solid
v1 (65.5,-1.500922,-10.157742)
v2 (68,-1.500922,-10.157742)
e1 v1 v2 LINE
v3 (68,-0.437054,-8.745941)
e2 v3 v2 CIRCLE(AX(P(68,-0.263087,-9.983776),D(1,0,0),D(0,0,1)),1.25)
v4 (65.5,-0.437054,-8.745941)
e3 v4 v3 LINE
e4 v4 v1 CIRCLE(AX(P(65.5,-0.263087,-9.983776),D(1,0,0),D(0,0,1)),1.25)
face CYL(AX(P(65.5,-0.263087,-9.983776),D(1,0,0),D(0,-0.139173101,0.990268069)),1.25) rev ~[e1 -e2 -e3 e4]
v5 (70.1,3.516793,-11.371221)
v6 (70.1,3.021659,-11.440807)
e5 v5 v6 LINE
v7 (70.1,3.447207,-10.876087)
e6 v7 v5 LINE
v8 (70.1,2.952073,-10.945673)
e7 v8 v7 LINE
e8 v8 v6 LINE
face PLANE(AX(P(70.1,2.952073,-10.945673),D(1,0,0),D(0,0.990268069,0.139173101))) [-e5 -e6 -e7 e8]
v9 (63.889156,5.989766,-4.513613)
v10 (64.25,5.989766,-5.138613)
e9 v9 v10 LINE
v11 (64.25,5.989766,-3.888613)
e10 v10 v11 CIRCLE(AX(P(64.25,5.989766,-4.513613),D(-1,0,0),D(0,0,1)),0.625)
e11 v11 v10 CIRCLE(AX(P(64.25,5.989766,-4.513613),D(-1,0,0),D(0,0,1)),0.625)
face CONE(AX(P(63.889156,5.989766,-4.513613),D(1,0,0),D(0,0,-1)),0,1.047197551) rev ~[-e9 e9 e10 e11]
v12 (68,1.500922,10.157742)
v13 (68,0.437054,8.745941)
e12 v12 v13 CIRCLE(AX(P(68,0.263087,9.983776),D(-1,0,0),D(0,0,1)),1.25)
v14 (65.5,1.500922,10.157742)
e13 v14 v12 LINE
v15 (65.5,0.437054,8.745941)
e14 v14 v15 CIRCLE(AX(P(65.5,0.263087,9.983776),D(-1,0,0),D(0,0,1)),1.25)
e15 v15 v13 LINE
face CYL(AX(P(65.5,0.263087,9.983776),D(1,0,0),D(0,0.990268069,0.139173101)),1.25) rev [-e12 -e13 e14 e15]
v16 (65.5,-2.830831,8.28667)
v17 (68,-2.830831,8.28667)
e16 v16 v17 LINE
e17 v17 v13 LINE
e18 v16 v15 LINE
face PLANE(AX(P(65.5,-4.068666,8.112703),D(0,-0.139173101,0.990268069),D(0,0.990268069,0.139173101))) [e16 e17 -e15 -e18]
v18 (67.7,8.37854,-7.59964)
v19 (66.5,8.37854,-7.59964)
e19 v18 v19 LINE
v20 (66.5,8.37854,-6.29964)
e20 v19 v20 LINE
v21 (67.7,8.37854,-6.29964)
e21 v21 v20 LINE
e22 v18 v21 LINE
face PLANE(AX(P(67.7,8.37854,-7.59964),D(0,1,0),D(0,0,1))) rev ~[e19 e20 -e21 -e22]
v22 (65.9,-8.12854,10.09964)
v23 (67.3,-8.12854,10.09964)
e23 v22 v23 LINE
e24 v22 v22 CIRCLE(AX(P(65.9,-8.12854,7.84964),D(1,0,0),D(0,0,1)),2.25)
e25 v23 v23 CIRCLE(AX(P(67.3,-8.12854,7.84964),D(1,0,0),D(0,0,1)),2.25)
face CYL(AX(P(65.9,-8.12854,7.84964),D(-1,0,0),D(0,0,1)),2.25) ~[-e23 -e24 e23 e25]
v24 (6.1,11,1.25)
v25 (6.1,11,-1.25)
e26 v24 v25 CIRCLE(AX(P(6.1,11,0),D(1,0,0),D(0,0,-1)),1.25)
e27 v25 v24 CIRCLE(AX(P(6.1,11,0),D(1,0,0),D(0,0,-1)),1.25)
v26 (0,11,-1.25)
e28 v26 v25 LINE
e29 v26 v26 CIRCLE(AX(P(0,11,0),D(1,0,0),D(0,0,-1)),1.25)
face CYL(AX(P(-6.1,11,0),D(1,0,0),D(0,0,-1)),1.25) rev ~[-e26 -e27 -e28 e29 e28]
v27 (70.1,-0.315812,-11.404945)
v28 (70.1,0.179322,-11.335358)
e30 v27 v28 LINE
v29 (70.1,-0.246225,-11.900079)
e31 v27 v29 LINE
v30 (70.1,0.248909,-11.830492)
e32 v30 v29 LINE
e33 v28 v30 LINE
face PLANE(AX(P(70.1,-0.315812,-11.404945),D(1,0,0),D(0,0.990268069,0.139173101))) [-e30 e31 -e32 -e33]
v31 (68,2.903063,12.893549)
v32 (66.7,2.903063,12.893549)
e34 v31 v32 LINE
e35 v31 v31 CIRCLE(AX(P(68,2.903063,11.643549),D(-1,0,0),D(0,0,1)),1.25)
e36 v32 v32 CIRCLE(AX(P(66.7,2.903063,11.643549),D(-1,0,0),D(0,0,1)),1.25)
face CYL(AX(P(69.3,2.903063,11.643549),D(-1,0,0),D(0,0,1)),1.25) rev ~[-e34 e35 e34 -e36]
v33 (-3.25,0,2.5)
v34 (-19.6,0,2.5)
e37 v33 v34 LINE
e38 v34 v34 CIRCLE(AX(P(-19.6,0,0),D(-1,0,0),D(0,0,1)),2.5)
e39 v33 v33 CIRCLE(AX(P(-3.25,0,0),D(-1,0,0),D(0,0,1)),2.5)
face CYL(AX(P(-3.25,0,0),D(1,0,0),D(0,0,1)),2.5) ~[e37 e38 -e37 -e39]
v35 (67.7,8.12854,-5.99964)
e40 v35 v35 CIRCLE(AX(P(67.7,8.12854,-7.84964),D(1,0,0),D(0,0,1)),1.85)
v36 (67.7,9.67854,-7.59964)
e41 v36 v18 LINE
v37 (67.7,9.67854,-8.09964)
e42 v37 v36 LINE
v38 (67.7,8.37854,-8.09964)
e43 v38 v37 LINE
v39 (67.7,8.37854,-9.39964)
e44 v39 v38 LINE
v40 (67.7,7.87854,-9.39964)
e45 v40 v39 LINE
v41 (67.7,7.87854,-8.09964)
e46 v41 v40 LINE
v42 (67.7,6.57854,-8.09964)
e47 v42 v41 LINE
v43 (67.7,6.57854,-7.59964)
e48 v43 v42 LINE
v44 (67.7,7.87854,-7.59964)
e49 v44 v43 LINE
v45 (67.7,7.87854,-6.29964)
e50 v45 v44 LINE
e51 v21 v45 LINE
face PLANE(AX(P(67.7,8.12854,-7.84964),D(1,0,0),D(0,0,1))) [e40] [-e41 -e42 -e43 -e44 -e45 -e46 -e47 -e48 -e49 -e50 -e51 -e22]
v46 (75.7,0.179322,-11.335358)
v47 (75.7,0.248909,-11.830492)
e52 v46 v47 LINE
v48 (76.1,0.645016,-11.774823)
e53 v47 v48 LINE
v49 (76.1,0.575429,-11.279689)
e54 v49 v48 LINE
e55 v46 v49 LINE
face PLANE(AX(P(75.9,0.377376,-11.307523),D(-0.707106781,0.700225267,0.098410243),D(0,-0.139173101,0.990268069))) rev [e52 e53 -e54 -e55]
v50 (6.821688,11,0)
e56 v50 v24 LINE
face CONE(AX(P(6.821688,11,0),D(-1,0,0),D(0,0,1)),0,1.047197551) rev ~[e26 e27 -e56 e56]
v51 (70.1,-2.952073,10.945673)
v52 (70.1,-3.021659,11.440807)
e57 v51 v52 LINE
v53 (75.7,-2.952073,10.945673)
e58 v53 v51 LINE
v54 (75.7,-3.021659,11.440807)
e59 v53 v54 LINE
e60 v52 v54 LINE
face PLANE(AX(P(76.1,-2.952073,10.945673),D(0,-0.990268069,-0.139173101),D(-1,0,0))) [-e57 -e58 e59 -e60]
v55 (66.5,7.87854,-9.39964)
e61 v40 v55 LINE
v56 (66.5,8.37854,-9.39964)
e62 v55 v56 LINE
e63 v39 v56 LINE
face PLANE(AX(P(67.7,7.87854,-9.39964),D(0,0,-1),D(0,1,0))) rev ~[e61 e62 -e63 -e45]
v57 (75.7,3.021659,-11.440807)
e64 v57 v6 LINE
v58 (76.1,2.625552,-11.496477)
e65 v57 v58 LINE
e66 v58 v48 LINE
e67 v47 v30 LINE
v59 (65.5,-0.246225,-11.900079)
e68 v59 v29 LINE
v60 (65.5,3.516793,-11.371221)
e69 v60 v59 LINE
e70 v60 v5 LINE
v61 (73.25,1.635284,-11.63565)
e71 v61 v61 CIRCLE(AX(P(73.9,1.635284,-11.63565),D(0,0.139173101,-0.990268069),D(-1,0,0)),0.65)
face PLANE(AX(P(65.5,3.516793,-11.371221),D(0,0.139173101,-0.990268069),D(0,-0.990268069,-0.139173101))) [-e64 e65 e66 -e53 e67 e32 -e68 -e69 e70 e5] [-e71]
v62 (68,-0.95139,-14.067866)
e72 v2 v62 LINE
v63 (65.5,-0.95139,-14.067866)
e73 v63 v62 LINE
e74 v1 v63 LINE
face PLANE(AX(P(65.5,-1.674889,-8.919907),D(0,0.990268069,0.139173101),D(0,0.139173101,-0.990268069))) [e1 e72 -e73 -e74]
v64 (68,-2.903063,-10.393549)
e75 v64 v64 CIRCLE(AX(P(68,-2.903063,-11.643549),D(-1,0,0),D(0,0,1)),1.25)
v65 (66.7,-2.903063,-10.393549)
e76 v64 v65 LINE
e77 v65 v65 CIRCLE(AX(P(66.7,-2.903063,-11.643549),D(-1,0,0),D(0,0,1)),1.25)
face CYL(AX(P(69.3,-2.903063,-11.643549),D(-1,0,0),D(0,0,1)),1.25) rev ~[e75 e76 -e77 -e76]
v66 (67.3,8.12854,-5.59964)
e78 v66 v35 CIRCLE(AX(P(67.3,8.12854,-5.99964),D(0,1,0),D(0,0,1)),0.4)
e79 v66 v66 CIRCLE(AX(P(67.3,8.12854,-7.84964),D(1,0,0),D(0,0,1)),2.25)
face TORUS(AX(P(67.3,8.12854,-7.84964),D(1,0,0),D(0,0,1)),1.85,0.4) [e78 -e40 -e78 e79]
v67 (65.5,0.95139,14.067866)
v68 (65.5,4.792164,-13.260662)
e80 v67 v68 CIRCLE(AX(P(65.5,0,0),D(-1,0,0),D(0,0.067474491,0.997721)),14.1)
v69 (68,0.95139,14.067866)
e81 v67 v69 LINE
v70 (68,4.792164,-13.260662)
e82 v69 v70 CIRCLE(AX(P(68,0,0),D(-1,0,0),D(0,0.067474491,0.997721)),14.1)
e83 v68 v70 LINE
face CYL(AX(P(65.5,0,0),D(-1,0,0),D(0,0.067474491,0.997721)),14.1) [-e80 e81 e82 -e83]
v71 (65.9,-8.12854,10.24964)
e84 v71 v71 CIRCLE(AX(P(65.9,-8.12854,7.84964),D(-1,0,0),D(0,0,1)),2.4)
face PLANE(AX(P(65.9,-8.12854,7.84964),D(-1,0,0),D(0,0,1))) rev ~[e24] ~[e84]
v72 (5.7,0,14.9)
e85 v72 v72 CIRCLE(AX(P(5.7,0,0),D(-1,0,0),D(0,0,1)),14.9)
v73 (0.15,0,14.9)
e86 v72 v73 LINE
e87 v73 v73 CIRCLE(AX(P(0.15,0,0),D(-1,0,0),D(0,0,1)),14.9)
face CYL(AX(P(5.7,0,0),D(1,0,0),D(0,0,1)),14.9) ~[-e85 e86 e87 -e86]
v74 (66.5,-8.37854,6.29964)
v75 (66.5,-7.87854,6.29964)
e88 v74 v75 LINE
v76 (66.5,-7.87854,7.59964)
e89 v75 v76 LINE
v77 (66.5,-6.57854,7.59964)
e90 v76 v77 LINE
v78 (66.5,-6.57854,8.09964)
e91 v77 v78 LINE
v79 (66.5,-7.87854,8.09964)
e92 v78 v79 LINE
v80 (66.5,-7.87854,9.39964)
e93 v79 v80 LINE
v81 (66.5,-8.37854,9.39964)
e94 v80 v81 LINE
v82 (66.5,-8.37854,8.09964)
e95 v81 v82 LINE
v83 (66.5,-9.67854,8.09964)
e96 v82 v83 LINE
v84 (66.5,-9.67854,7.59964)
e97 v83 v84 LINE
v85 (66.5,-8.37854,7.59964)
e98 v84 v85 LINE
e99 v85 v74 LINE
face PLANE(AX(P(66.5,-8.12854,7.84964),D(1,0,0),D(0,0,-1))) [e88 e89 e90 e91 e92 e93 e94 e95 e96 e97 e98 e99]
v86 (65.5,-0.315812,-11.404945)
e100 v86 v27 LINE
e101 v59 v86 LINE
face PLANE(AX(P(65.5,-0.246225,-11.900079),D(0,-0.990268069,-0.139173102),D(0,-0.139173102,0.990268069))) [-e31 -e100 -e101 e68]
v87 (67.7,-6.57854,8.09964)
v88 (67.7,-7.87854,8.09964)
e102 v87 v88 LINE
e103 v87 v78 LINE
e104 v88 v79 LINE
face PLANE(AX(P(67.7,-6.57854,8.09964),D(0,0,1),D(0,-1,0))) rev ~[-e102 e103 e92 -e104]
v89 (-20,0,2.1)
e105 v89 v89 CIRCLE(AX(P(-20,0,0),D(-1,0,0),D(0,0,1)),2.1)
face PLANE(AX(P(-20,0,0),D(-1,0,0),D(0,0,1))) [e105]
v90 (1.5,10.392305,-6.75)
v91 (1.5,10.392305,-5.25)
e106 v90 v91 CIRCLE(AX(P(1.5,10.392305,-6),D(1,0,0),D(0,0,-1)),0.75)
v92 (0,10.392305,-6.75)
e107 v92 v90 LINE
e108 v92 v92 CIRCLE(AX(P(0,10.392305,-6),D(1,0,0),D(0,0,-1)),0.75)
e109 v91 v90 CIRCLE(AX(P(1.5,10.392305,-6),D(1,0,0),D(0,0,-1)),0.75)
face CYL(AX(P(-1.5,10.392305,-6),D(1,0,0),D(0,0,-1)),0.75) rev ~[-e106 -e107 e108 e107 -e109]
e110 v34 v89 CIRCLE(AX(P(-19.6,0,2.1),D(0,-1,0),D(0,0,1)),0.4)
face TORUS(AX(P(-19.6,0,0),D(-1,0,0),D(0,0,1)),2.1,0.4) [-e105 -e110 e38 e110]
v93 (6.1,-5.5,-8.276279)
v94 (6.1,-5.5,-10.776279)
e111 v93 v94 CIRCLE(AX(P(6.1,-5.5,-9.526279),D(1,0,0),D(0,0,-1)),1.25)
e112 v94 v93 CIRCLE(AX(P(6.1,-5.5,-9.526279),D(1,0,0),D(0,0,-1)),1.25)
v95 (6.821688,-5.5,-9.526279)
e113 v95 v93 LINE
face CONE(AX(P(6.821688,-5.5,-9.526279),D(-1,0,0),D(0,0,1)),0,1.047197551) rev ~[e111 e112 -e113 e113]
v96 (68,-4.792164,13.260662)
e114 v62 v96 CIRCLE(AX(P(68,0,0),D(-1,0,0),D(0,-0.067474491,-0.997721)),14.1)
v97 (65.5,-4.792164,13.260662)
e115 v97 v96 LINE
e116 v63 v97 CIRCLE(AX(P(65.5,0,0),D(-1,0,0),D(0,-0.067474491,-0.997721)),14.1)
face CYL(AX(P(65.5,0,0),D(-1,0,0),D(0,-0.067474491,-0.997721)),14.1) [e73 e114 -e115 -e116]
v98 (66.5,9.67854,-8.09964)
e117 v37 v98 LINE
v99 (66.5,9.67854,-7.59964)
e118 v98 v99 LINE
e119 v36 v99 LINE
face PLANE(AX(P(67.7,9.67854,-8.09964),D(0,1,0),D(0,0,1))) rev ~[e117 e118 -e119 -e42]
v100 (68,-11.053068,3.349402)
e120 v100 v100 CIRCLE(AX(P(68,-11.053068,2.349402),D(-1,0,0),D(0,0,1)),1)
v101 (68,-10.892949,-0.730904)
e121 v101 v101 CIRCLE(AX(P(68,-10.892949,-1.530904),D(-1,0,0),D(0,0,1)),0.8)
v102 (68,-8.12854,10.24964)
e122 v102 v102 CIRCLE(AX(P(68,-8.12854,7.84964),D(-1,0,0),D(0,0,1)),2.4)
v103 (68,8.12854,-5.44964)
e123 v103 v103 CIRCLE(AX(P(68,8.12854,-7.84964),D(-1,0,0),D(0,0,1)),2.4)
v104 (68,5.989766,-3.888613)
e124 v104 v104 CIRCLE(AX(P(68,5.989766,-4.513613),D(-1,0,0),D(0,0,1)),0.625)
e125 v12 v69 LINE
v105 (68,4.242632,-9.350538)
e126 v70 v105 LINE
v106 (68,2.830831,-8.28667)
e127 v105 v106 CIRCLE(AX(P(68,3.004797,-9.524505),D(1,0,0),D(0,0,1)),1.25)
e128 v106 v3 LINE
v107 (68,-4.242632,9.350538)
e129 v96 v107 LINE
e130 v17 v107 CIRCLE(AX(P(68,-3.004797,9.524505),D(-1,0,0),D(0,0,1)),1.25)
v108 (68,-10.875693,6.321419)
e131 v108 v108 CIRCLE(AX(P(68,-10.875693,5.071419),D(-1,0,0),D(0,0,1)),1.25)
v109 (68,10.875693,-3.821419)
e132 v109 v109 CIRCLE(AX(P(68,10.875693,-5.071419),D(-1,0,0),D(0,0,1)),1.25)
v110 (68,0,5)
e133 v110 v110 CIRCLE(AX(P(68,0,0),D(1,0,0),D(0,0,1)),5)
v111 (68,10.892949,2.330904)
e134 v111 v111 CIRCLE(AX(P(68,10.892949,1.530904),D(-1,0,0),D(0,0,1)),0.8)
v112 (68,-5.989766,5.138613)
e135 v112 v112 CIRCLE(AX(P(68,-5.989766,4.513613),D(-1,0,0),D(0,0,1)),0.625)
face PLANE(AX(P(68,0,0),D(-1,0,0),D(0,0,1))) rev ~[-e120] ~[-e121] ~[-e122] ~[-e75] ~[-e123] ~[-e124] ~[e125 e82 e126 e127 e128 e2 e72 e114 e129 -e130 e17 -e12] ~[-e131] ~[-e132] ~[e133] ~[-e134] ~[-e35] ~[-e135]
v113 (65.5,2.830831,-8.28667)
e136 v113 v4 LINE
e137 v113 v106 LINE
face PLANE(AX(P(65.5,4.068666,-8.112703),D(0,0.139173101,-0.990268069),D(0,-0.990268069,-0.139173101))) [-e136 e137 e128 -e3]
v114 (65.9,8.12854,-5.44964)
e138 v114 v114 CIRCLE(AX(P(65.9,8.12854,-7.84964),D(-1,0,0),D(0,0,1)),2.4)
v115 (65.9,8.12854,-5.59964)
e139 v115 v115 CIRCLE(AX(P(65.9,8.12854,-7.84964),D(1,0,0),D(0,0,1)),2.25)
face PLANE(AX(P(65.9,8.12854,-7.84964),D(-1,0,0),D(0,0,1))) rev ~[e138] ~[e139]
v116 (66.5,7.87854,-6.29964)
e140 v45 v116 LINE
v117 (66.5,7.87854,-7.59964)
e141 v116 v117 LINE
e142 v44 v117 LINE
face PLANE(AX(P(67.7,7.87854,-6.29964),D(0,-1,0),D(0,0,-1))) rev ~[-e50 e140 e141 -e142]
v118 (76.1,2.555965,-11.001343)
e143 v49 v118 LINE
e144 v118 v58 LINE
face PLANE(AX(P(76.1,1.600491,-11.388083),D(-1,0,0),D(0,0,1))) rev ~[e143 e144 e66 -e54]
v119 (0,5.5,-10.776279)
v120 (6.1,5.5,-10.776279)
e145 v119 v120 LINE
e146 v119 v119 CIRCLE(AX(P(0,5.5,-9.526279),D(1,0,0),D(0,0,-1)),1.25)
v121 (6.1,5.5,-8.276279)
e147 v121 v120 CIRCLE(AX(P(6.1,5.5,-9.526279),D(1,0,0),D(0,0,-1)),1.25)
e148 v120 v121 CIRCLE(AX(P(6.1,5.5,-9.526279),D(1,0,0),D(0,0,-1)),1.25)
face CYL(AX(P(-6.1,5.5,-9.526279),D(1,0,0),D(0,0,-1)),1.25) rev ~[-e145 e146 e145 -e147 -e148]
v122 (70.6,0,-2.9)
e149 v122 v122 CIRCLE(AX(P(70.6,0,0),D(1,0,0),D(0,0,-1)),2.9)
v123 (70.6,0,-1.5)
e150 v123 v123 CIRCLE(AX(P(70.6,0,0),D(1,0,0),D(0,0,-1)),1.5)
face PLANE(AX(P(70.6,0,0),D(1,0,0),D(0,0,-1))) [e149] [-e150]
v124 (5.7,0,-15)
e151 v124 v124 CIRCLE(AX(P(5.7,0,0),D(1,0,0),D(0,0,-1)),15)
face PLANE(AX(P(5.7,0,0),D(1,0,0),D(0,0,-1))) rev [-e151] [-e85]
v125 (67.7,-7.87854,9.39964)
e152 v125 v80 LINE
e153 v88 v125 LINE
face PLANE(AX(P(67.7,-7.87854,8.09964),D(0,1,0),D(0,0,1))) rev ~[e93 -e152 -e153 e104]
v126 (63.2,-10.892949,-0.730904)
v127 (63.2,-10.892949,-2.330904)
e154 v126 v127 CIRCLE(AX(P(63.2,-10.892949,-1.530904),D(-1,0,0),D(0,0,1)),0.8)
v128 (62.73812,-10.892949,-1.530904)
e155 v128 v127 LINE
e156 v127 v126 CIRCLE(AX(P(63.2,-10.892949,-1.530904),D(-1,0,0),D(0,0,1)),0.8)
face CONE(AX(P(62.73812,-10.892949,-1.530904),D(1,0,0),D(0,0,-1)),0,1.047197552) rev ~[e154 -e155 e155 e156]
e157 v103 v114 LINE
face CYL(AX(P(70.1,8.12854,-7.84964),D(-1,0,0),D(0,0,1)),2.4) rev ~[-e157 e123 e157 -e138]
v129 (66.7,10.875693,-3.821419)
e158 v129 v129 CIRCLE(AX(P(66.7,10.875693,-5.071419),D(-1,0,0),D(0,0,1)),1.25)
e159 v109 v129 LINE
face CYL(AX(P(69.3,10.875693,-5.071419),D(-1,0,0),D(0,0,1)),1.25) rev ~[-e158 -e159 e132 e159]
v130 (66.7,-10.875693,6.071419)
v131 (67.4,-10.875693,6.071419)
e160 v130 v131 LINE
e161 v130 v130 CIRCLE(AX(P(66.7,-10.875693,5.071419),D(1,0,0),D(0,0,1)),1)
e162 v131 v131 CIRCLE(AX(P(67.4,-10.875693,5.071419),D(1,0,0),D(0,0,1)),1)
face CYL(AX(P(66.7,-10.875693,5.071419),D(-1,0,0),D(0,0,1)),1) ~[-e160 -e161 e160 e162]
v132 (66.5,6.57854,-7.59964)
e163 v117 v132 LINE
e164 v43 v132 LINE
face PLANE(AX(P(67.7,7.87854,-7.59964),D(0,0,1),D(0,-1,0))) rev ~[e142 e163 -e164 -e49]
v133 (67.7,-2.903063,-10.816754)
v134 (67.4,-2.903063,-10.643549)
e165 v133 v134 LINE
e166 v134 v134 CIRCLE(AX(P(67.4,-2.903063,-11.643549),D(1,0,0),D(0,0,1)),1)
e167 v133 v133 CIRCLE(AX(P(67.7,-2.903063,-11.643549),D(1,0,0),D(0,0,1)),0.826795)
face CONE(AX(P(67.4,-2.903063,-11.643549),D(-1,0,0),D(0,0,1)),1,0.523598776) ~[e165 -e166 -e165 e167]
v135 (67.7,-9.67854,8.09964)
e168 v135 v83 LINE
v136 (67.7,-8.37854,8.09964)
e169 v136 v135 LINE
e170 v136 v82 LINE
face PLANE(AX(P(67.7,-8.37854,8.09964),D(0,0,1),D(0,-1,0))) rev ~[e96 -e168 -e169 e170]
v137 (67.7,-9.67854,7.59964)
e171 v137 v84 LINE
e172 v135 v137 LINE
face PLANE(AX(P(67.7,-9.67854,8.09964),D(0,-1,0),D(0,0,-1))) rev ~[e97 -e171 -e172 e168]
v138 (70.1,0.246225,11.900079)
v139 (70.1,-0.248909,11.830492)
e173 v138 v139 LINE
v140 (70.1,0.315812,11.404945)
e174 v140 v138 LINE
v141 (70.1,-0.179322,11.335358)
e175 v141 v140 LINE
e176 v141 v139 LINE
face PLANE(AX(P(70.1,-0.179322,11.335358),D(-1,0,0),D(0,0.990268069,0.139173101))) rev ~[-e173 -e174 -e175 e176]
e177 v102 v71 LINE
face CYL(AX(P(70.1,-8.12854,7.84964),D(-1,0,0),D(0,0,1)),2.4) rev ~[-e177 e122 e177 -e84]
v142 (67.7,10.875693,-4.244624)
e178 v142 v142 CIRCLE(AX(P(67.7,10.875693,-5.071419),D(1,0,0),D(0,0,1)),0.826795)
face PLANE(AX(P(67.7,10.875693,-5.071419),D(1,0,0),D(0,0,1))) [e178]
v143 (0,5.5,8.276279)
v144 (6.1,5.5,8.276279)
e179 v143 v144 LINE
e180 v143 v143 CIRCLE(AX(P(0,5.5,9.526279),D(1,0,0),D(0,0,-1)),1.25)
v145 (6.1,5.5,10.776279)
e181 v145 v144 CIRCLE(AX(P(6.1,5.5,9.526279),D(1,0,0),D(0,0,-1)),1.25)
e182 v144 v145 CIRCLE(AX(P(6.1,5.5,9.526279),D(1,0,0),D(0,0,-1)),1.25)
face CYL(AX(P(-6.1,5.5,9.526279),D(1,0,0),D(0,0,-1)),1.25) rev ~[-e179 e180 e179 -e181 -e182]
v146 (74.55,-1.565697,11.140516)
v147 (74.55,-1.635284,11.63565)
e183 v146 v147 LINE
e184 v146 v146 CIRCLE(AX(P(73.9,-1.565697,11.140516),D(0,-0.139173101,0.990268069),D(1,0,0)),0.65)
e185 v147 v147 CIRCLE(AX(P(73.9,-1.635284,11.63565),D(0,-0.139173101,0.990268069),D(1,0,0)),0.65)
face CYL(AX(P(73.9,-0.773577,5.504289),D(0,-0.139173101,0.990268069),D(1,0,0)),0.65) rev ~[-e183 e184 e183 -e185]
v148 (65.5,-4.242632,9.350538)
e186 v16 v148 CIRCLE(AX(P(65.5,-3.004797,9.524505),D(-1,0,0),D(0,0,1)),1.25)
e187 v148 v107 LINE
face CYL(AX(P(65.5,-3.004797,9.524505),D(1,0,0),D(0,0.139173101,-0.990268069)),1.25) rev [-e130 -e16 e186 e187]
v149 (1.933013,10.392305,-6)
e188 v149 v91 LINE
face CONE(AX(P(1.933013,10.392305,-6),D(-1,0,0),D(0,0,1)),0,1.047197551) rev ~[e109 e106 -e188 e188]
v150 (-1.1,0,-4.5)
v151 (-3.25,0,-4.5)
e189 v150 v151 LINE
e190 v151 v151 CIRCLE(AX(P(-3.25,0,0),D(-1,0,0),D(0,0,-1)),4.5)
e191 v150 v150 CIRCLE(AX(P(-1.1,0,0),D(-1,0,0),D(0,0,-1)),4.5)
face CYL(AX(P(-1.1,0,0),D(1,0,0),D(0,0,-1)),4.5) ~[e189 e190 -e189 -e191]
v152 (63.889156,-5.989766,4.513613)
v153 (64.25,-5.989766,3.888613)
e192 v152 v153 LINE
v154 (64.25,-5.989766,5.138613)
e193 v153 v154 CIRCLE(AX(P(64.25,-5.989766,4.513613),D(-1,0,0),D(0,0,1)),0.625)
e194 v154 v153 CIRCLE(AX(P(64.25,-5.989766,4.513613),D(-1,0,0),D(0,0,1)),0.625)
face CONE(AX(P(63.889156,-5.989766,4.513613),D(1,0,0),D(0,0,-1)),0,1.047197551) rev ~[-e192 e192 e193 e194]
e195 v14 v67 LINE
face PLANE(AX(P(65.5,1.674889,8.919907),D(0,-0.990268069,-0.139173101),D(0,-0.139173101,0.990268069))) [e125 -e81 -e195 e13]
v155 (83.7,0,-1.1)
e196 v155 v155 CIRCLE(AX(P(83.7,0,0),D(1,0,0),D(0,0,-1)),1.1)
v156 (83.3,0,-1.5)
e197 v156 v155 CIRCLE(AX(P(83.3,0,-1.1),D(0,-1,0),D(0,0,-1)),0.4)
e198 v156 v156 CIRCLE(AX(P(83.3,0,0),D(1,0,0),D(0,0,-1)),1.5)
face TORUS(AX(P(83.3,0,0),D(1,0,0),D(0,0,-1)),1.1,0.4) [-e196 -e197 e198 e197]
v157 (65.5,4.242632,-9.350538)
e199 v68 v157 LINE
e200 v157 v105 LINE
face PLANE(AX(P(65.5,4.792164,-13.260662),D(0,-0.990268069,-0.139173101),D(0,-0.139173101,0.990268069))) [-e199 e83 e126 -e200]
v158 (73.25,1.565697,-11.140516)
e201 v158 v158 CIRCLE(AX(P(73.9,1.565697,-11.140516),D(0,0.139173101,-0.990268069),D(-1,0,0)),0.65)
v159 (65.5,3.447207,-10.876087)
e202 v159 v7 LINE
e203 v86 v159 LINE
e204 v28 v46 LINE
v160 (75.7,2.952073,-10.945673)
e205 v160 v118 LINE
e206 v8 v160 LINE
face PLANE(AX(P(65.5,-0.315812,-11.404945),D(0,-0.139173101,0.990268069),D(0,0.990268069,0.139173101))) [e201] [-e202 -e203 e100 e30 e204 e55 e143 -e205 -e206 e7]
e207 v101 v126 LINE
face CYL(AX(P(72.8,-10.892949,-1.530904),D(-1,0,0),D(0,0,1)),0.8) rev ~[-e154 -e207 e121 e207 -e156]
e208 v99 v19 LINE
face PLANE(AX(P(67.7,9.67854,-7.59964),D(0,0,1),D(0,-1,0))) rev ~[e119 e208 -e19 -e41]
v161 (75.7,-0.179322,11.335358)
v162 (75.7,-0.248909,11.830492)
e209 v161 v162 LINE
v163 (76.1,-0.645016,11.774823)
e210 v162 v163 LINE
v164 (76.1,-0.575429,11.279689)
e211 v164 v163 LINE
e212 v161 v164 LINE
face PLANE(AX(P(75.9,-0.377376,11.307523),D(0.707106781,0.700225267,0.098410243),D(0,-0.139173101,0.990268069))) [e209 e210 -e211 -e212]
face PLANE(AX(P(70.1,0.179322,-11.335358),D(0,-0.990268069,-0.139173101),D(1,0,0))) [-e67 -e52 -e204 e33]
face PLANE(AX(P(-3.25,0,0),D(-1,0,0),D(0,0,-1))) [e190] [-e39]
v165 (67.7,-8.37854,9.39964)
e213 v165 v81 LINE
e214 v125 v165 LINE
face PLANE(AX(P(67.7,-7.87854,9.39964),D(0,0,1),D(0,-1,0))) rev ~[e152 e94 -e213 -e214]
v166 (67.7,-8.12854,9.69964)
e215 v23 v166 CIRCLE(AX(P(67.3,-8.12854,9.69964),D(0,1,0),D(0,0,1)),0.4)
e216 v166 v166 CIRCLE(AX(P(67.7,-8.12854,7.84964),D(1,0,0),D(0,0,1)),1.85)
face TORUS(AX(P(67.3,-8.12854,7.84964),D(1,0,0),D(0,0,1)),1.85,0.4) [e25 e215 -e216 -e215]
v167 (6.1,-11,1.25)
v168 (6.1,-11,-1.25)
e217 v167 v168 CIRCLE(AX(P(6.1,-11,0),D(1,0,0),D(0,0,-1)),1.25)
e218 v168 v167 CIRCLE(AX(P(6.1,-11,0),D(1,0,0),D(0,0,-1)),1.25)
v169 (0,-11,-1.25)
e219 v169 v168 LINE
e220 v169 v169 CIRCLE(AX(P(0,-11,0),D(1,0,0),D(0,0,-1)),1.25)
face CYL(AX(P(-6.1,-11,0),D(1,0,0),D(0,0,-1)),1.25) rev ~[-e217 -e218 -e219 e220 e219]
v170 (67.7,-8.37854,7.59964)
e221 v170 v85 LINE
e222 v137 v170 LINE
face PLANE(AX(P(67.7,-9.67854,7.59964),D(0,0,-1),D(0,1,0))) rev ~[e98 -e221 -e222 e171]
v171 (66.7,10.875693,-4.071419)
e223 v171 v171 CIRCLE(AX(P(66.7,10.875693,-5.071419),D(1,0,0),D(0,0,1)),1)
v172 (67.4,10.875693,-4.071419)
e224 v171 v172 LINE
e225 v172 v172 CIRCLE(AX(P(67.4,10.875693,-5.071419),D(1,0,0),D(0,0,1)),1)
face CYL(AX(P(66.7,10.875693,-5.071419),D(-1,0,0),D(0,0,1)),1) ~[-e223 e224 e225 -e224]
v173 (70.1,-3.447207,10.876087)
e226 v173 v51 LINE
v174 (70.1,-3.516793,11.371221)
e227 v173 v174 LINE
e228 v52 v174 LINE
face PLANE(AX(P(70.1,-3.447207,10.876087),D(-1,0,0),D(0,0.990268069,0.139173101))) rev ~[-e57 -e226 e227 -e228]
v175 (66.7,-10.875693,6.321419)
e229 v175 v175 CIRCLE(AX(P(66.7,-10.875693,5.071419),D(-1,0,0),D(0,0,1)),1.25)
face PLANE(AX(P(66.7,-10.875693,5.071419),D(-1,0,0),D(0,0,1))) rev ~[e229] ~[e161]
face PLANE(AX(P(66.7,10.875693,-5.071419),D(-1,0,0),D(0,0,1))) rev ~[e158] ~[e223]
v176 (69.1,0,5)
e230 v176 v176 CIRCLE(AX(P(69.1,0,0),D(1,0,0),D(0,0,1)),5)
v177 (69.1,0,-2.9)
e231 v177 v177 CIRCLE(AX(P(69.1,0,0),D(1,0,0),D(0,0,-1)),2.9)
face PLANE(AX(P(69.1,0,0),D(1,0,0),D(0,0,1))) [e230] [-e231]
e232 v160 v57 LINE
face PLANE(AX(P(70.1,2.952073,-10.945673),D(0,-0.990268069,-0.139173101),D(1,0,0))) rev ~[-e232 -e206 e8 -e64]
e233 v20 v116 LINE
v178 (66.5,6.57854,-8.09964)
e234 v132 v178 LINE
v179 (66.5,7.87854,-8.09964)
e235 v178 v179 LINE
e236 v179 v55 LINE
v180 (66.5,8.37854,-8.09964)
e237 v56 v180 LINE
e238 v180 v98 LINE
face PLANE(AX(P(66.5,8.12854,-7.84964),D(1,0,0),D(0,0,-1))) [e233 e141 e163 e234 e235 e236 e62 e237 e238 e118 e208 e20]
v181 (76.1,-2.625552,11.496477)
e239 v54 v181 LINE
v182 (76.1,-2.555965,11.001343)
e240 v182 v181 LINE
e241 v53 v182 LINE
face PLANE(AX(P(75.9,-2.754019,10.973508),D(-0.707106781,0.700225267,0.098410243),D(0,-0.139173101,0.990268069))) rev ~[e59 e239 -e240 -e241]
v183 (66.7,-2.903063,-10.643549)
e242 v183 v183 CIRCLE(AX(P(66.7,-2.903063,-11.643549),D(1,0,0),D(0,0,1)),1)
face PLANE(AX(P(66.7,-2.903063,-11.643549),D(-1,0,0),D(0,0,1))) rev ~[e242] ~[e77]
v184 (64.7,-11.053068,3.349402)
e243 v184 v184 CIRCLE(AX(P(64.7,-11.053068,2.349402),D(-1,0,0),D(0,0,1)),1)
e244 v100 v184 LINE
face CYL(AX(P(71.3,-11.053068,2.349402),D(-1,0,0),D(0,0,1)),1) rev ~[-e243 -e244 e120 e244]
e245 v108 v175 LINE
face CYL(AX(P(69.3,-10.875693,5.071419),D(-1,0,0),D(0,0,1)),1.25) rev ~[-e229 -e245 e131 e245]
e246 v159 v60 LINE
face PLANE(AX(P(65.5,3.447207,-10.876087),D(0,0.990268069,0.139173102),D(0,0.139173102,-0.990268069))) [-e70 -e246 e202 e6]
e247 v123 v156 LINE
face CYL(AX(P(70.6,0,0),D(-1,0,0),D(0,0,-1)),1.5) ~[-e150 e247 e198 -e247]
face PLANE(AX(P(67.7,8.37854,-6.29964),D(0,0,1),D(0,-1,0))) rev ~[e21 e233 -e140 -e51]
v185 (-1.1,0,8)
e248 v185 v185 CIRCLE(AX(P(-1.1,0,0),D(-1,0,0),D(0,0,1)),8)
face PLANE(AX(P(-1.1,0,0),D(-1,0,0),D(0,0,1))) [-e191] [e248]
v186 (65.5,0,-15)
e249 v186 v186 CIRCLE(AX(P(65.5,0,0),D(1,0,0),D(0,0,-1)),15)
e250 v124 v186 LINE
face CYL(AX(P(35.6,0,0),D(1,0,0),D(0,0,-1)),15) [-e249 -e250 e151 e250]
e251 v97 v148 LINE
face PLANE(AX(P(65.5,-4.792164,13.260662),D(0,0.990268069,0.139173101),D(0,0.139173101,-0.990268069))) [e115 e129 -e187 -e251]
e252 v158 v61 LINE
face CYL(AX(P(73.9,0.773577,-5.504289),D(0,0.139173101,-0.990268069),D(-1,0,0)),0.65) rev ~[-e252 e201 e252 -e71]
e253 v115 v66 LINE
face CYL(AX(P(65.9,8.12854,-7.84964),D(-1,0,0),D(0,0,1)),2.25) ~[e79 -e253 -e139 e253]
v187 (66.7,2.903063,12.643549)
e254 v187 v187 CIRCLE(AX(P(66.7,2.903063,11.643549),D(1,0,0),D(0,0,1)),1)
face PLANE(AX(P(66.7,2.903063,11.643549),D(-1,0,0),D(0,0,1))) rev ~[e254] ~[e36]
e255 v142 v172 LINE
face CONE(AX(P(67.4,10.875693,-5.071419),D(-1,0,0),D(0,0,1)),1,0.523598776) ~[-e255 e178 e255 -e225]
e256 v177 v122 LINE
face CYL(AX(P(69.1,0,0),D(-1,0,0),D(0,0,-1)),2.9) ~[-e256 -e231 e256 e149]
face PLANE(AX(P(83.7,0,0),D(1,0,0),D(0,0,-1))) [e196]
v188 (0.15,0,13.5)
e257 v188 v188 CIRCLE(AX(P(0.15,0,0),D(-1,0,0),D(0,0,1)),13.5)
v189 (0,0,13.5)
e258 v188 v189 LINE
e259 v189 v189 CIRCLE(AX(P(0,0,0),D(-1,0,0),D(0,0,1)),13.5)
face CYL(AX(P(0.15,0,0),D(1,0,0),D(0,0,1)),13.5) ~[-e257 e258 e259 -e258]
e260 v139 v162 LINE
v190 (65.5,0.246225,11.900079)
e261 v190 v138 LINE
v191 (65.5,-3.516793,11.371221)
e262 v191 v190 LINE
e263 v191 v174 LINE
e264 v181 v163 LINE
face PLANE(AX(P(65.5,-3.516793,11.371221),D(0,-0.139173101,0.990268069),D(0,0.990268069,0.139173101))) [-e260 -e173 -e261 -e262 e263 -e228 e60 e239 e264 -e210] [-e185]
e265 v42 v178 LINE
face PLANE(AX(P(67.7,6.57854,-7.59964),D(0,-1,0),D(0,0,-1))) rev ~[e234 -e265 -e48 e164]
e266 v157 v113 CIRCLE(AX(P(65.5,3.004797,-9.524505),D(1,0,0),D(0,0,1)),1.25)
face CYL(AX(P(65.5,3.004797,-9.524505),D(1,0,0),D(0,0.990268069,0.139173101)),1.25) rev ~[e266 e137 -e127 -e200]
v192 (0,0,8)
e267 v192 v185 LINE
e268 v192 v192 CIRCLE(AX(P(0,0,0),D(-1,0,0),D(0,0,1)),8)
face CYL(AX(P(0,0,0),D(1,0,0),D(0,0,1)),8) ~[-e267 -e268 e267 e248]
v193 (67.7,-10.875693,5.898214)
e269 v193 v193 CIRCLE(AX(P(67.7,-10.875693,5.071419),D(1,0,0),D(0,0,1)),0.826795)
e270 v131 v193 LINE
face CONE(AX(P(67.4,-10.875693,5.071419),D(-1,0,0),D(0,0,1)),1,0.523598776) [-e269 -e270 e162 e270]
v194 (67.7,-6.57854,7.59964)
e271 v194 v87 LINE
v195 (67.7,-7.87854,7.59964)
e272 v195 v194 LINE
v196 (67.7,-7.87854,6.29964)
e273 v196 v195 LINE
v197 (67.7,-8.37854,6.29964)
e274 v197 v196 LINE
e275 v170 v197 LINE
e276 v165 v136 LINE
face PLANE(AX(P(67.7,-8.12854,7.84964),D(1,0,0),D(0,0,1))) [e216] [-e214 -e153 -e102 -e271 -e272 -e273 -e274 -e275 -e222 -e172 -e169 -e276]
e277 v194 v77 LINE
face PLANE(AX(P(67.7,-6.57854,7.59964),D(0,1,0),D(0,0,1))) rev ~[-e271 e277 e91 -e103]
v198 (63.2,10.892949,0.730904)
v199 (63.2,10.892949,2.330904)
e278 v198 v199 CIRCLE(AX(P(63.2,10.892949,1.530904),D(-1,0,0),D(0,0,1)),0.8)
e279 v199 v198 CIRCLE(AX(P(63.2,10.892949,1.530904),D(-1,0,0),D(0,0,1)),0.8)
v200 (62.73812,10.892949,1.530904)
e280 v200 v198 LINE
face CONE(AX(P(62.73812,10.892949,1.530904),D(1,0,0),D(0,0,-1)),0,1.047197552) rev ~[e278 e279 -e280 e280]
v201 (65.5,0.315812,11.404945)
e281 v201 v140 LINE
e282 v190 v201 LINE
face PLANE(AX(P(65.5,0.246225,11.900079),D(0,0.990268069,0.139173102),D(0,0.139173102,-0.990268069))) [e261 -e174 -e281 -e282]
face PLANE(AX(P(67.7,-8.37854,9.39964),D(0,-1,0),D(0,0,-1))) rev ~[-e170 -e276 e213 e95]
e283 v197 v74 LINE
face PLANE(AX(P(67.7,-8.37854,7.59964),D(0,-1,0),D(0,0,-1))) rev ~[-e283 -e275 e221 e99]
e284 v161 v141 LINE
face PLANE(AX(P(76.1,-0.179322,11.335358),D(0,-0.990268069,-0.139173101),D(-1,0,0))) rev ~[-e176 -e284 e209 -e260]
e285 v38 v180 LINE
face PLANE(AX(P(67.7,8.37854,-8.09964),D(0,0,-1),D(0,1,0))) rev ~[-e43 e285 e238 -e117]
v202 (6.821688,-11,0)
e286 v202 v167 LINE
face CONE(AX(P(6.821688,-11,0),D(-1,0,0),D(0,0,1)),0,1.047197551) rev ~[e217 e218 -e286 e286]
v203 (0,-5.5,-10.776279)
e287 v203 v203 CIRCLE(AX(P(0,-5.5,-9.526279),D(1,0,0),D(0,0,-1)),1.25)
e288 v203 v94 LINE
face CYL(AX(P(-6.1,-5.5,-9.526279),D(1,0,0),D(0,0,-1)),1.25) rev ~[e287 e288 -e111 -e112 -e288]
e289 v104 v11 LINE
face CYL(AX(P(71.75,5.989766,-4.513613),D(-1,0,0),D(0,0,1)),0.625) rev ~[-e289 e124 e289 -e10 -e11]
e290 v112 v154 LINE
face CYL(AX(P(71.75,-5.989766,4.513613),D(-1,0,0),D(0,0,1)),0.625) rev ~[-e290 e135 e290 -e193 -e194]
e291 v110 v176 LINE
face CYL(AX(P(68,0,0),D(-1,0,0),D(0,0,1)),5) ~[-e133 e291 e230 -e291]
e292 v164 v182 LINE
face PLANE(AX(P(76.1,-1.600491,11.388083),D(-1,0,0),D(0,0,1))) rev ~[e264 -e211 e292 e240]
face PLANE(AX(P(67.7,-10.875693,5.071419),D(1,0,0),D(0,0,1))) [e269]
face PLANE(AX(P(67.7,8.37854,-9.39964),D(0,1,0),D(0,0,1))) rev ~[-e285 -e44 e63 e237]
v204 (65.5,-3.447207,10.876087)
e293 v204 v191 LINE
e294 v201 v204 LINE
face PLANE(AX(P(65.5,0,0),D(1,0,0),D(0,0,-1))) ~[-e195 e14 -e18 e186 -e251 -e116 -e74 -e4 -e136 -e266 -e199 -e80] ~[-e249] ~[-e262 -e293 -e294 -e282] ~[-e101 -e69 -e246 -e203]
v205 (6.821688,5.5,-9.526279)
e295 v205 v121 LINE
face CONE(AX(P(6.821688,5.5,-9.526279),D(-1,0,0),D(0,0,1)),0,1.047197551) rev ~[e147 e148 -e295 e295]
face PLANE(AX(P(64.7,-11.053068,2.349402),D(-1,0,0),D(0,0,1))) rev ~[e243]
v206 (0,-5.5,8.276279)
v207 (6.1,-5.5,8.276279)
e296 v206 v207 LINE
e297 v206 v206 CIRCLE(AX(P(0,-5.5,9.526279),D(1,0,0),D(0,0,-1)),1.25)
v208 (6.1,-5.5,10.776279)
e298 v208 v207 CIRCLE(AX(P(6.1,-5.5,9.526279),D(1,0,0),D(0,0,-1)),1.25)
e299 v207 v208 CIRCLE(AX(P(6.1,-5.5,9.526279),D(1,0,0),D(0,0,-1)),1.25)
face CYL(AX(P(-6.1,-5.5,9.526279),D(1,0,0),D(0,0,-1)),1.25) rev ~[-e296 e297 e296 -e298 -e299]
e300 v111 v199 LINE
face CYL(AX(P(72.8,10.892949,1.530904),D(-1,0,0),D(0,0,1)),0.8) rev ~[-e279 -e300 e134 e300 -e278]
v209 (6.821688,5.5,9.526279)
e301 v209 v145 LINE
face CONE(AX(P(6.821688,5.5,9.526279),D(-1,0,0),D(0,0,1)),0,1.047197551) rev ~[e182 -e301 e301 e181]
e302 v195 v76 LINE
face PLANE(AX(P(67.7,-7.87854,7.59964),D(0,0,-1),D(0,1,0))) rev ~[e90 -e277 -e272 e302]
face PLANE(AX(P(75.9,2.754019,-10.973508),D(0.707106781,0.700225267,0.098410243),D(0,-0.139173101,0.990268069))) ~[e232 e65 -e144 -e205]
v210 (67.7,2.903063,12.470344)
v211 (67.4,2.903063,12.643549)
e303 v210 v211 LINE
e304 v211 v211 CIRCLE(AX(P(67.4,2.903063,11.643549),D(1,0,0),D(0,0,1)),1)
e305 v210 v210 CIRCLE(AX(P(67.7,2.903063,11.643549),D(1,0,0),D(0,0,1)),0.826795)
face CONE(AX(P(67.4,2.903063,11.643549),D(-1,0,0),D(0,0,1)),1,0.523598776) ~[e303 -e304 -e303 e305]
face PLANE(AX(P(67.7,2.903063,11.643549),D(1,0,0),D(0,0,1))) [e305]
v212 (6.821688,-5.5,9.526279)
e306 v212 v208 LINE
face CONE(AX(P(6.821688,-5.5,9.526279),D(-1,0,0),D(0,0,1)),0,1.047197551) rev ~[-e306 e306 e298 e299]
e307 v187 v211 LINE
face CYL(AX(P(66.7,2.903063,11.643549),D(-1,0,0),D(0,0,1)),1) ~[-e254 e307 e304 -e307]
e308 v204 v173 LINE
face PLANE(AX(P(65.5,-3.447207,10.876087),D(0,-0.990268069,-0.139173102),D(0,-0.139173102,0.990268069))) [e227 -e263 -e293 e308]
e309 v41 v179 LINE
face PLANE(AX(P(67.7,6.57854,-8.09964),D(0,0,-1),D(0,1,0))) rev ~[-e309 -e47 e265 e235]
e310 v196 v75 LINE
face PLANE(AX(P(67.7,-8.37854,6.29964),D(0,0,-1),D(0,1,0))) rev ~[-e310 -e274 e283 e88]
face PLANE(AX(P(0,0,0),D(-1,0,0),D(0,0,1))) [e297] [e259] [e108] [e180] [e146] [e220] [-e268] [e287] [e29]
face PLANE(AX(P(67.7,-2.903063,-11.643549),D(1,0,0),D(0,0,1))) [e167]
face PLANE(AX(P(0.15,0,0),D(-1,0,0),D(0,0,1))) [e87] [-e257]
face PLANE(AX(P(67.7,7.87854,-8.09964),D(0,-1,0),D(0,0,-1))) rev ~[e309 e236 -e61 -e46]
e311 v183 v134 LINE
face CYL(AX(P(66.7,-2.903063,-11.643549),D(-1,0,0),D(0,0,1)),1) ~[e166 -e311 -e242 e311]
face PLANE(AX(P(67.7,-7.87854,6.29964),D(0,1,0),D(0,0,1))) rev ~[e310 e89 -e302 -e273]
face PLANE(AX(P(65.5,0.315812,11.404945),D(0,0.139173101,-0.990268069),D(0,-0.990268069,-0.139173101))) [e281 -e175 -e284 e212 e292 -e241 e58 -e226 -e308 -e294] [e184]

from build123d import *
from OCP.BRepFilletAPI import BRepFilletAPI_MakeChamfer

# Parameters (mm, degrees)
SKETCH1_W                        = 59.8
SKETCH1_H                        = 15
BOSS_EXTRUDE1_DEPTH              = 10.6
SKETCH3_W                        = 6
SKETCH3_H                        = 0.5
CUT_EXTRUDE1_DEPTH               = 83.152047417
SKETCH4_W                        = 6
SKETCH4_H                        = 0.5
CUT_EXTRUDE2_DEPTH               = 83.152047417
BOSS_EXTRUDE2_DEPTH              = 10.6
SKETCH6_W                        = 6
SKETCH6_H                        = 0.5
CUT_EXTRUDE3_DEPTH               = 83.152047417
SKETCH7_W                        = 6
SKETCH7_H                        = 0.5
CUT_EXTRUDE4_DEPTH               = 83.152047417
SKETCH8_R                        = 14.9
BOSS_EXTRUDE3_DEPTH              = 5.55
SKETCH9_R                        = 13.5
BOSS_EXTRUDE4_DEPTH              = 0.15
SKETCH10_R                       = 8
BOSS_EXTRUDE5_DEPTH              = 1.1
SKETCH11_R                       = 4.5
BOSS_EXTRUDE6_DEPTH              = 2.15
SKETCH12_R                       = 2.5
BOSS_EXTRUDE7_DEPTH              = 16.75
BOSS_EXTRUDE8_DEPTH              = 2.5
SKETCH14_R                       = 5
BOSS_EXTRUDE9_DEPTH              = 1.1
SKETCH15_R                       = 2.9
BOSS_EXTRUDE10_DEPTH             = 1.5
SKETCH16_R                       = 1.5
BOSS_EXTRUDE11_DEPTH             = 13.1
F_2_5_2_5_DIAMETER_HOLE1_D       = 2.5
F_2_5_2_5_DIAMETER_HOLE1_DEPTH   = 1.3
SKETCH19_R                       = 1
BOSS_EXTRUDE12_DEPTH             = 1
F_2_5_2_5_DIAMETER_HOLE2_D       = 2.5
F_2_5_2_5_DIAMETER_HOLE2_DEPTH   = 1.3
SKETCH22_R                       = 1
BOSS_EXTRUDE13_DEPTH             = 1
F_2_5_2_5_DIAMETER_HOLE3_D       = 2.5
F_2_5_2_5_DIAMETER_HOLE3_DEPTH   = 1.3
SKETCH25_R                       = 1
BOSS_EXTRUDE14_DEPTH             = 1
F_2_5_2_5_DIAMETER_HOLE4_D       = 2.5
F_2_5_2_5_DIAMETER_HOLE4_DEPTH   = 1.3
SKETCH28_R                       = 1
BOSS_EXTRUDE15_DEPTH             = 1
F_4_8_4_8_DIAMETER_HOLE1_D       = 4.8
F_4_8_4_8_DIAMETER_HOLE1_DEPTH   = 2.1
SKETCH31_R                       = 2.25
BOSS_EXTRUDE16_DEPTH             = 1.8
CUT_EXTRUDE5_DEPTH               = 1.2
F_4_8_4_8_DIAMETER_HOLE2_D       = 4.8
F_4_8_4_8_DIAMETER_HOLE2_DEPTH   = 2.1
SKETCH35_R                       = 2.25
BOSS_EXTRUDE17_DEPTH             = 1.8
CUT_EXTRUDE6_DEPTH               = 1.2
F_1_3_1_3_DIAMETER_HOLE1_D       = 1.3
F_1_3_1_3_DIAMETER_HOLE1_DEPTH   = 5.691617546
F_1_3_1_3_DIAMETER_HOLE2_D       = 1.3
F_1_3_1_3_DIAMETER_HOLE2_DEPTH   = 5.691617546
F_2_0_2_DIAMETER_HOLE1_D         = 2
F_2_0_2_DIAMETER_HOLE1_DEPTH     = 3.3
F_1_6_1_6_DIAMETER_HOLE1_D       = 1.6
F_1_6_1_6_DIAMETER_HOLE1_DEPTH   = 4.8
F_1_6_1_6_DIAMETER_HOLE1_TIP     = 0.461880215
F_1_25_1_25_DIAMETER_HOLE1_D     = 1.25
F_1_25_1_25_DIAMETER_HOLE1_DEPTH = 3.75
F_1_25_1_25_DIAMETER_HOLE1_TIP   = 0.360843918
F_1_5_1_5_DIAMETER_HOLE1_D       = 1.5
F_1_5_1_5_DIAMETER_HOLE1_DEPTH   = 1.5
F_1_5_1_5_DIAMETER_HOLE1_TIP     = 0.433012702
F_2_5_2_5_DIAMETER_HOLE5_D       = 2.5
F_2_5_2_5_DIAMETER_HOLE5_DEPTH   = 6.1
F_2_5_2_5_DIAMETER_HOLE5_TIP     = 0.721687836
CHAMFER1_SIZE                    = 0.4
CHAMFER2_SIZE                    = 0.173205081
CHAMFER2_SIZE2                   = 0.3
CHAMFER3_SIZE                    = 0.3
CHAMFER3_SIZE2                   = 0.173205081
FILLET1_R                        = 0.4
FILLET2_R                        = 1.25


with BuildPart() as part:
    # Sketch1 → Revolve1 (revolve)
    with BuildSketch(Plane.XY, mode=Mode.PRIVATE) as revolve1_sk:
        with Locations((35.6, 7.5)):
            Rectangle(SKETCH1_W, SKETCH1_H)
    revolve(revolve1_sk.sketch.rotate(Axis((5.7, 0, 0), (1, 0, 0)), 270), axis=Axis((5.7, 0, 0), (1, 0, 0)))

    # Sketch2 → Boss-Extrude1 (add)
    with BuildSketch(Plane(origin=(65.5, 0, 0), x_dir=(0, 0, -1), z_dir=(1, 0, 0))):
        Polygon((11.9000787, -0.246225394), (11.404944665, -0.315811945), (10.876086882, 3.447206716), (11.371220916, 3.516793267), align=None)
    extrude(amount=BOSS_EXTRUDE1_DEPTH)

    # Sketch3 → Cut-Extrude1 (cut, through all)
    with BuildSketch(Plane(origin=(0, 1.565697386, -11.140515773), x_dir=(1, 0, 0), z_dir=(0, -0.13917310096021315, 0.9902680687415497))):
        with Locations((73.1, 1.65)):
            Rectangle(SKETCH3_W, SKETCH3_H)
    extrude(amount=-CUT_EXTRUDE1_DEPTH, mode=Mode.SUBTRACT)

    # Sketch4 → Cut-Extrude2 (cut, through all)
    with BuildSketch(Plane(origin=(0, 1.565697386, -11.140515773), x_dir=(1, 0, 0), z_dir=(0, -0.13917310096021315, 0.9902680687415497))):
        with Locations((73.1, -1.65)):
            Rectangle(SKETCH4_W, SKETCH4_H)
    extrude(amount=-CUT_EXTRUDE2_DEPTH, mode=Mode.SUBTRACT)

    # Sketch5 → Boss-Extrude2 (add)
    with BuildSketch(Plane(origin=(65.5, 0, 0), x_dir=(0, 0, -1), z_dir=(1, 0, 0))):
        Polygon((-11.9000787, 0.246225394), (-11.404944665, 0.315811945), (-10.876086882, -3.447206716), (-11.371220916, -3.516793267), align=None)
    extrude(amount=BOSS_EXTRUDE2_DEPTH)

    # Sketch6 → Cut-Extrude3 (cut, through all)
    with BuildSketch(Plane(origin=(0, -1.565697386, 11.140515773), x_dir=(-1, 0, 0), z_dir=(0, 0.13917310096021268, -0.9902680687415497))):
        with Locations((-73.1, -1.65)):
            Rectangle(SKETCH6_W, SKETCH6_H)
    extrude(amount=-CUT_EXTRUDE3_DEPTH, mode=Mode.SUBTRACT)

    # Sketch7 → Cut-Extrude4 (cut, through all)
    with BuildSketch(Plane(origin=(0, -1.565697386, 11.140515773), x_dir=(-1, 0, 0), z_dir=(0, 0.13917310096021268, -0.9902680687415497))):
        with Locations((-73.1, 1.65)):
            Rectangle(SKETCH7_W, SKETCH7_H)
    extrude(amount=-CUT_EXTRUDE4_DEPTH, mode=Mode.SUBTRACT)

    # Sketch8 → Boss-Extrude3 (add)
    with BuildSketch(Plane.ZY.offset(-5.7)):
        Circle(SKETCH8_R)
    extrude(amount=BOSS_EXTRUDE3_DEPTH)

    # Sketch9 → Boss-Extrude4 (add)
    with BuildSketch(Plane.ZY.offset(-0.15)):
        Circle(SKETCH9_R)
    extrude(amount=BOSS_EXTRUDE4_DEPTH)

    # Sketch10 → Boss-Extrude5 (add)
    with BuildSketch(Plane.ZY):
        Circle(SKETCH10_R)
    extrude(amount=BOSS_EXTRUDE5_DEPTH)

    # Sketch11 → Boss-Extrude6 (add)
    with BuildSketch(Plane.ZY.offset(1.1)):
        with Locations(Location((0, 0, 0), (0, 0, 180))):
            Circle(SKETCH11_R)
    extrude(amount=BOSS_EXTRUDE6_DEPTH)

    # Sketch12 → Boss-Extrude7 (add)
    with BuildSketch(Plane.ZY.offset(3.25)):
        Circle(SKETCH12_R)
    extrude(amount=BOSS_EXTRUDE7_DEPTH)

    # Sketch13 → Boss-Extrude8 (add)
    with BuildSketch(Plane(origin=(65.5, 0, 0), x_dir=(0, 0, -1), z_dir=(1, 0, 0))):
        with BuildLine():
            Line((-8.919907384, 1.674888731), (-14.067866095, 0.951390317))
            ThreePointArc((-14.067866095, 0.951390317), (-1.962340724, 13.962779769), (13.260662109, 4.792164482))
            Line((13.260662109, 4.792164482), (8.112703398, 4.068666068))
            Line((8.112703398, 4.068666068), (8.919907384, -1.674888731))
            Line((8.919907384, -1.674888731), (14.067866095, -0.951390317))
            ThreePointArc((14.067866095, -0.951390317), (1.962340724, -13.962779769), (-13.260662109, -4.792164482))
            Line((-13.260662109, -4.792164482), (-8.112703398, -4.068666068))
            Line((-8.112703398, -4.068666068), (-8.919907384, 1.674888731))
        make_face()
    extrude(amount=BOSS_EXTRUDE8_DEPTH)

    # Sketch14 → Boss-Extrude9 (add)
    with BuildSketch(Plane(origin=(68, 0, 0), x_dir=(0, 0, -1), z_dir=(1, 0, 0))):
        with Locations(Location((0, 0, 0), (0, 0, 180))):
            Circle(SKETCH14_R)
    extrude(amount=BOSS_EXTRUDE9_DEPTH)

    # Sketch15 → Boss-Extrude10 (add)
    with BuildSketch(Plane(origin=(69.1, 0, 0), x_dir=(0, 0, -1), z_dir=(1, 0, 0))):
        Circle(SKETCH15_R)
    extrude(amount=BOSS_EXTRUDE10_DEPTH)

    # Sketch16 → Boss-Extrude11 (add)
    with BuildSketch(Plane(origin=(70.6, 0, 0), x_dir=(0, 0, -1), z_dir=(1, 0, 0))):
        Circle(SKETCH16_R)
    extrude(amount=BOSS_EXTRUDE11_DEPTH)

    # Ø2.5 (2.5) Diameter Hole1
    with Locations(Plane(origin=(68, 0, 0), x_dir=(0, 0, -1), z_dir=(1, 0, 0))):
        with Locations((11.643548715, -2.903062747)):
            Hole(F_2_5_2_5_DIAMETER_HOLE1_D / 2, depth=F_2_5_2_5_DIAMETER_HOLE1_DEPTH)

    # Sketch19 → Boss-Extrude12 (add)
    with BuildSketch(Plane(origin=(66.7, 0, 0), x_dir=(0, 0, -1), z_dir=(1, 0, 0))):
        with Locations(Location((11.643548715, -2.903062747, 0), (0, 0, 180))):
            Circle(SKETCH19_R)
    extrude(amount=BOSS_EXTRUDE12_DEPTH)

    # Ø2.5 (2.5) Diameter Hole2
    with Locations(Plane(origin=(68, 0, 0), x_dir=(0, 0, -1), z_dir=(1, 0, 0))):
        with Locations((5.071419141, 10.875693444)):
            Hole(F_2_5_2_5_DIAMETER_HOLE2_D / 2, depth=F_2_5_2_5_DIAMETER_HOLE2_DEPTH)

    # Sketch22 → Boss-Extrude13 (add)
    with BuildSketch(Plane(origin=(66.7, 0, 0), x_dir=(0, 0, -1), z_dir=(1, 0, 0))):
        with Locations(Location((5.071419141, 10.875693444, 0), (0, 0, 180))):
            Circle(SKETCH22_R)
    extrude(amount=BOSS_EXTRUDE13_DEPTH)

    # Ø2.5 (2.5) Diameter Hole3
    with Locations(Plane(origin=(68, 0, 0), x_dir=(0, 0, -1), z_dir=(1, 0, 0))):
        with Locations((-11.643548715, 2.903062747)):
            Hole(F_2_5_2_5_DIAMETER_HOLE3_D / 2, depth=F_2_5_2_5_DIAMETER_HOLE3_DEPTH)

    # Sketch25 → Boss-Extrude14 (add)
    with BuildSketch(Plane(origin=(66.7, 0, 0), x_dir=(0, 0, -1), z_dir=(1, 0, 0))):
        with Locations(Location((-11.643548715, 2.903062747, 0), (0, 0, 180))):
            Circle(SKETCH25_R)
    extrude(amount=BOSS_EXTRUDE14_DEPTH)

    # Ø2.5 (2.5) Diameter Hole4
    with Locations(Plane(origin=(68, 0, 0), x_dir=(0, 0, -1), z_dir=(1, 0, 0))):
        with Locations((-5.071419141, -10.875693444)):
            Hole(F_2_5_2_5_DIAMETER_HOLE4_D / 2, depth=F_2_5_2_5_DIAMETER_HOLE4_DEPTH)

    # Sketch28 → Boss-Extrude15 (add)
    with BuildSketch(Plane(origin=(66.7, 0, 0), x_dir=(0, 0, -1), z_dir=(1, 0, 0))):
        with Locations(Location((-5.071419141, -10.875693444, 0), (0, 0, 180))):
            Circle(SKETCH28_R)
    extrude(amount=BOSS_EXTRUDE15_DEPTH)

    # Ø4.8 (4.8) Diameter Hole1
    with Locations(Plane(origin=(68, 0, 0), x_dir=(0, 0, -1), z_dir=(1, 0, 0))):
        with Locations((7.849639586, 8.128539744)):
            Hole(F_4_8_4_8_DIAMETER_HOLE1_D / 2, depth=F_4_8_4_8_DIAMETER_HOLE1_DEPTH)

    # Sketch31 → Boss-Extrude16 (add)
    with BuildSketch(Plane(origin=(65.9, 0, 0), x_dir=(0, 0, -1), z_dir=(1, 0, 0))):
        with Locations(Location((7.849639586, 8.128539744, 0), (0, 0, 180))):
            Circle(SKETCH31_R)
    extrude(amount=BOSS_EXTRUDE16_DEPTH)

    # Sketch32 → Cut-Extrude5 (cut)
    with BuildSketch(Plane(origin=(67.7, 0, 0), x_dir=(0, 0, -1), z_dir=(1, 0, 0))):
        Polygon((7.599639586, 8.378539744), (6.299639586, 8.378539744), (6.299639586, 7.878539744), (7.599639586, 7.878539744), (7.599639586, 6.578539744), (8.099639586, 6.578539744), (8.099639586, 7.878539744), (9.399639586, 7.878539744), (9.399639586, 8.378539744), (8.099639586, 8.378539744), (8.099639586, 9.678539744), (7.599639586, 9.678539744), align=None)
    extrude(amount=-CUT_EXTRUDE5_DEPTH, mode=Mode.SUBTRACT)

    # Ø4.8 (4.8) Diameter Hole2
    with Locations(Plane(origin=(68, 0, 0), x_dir=(0, 0, -1), z_dir=(1, 0, 0))):
        with Locations((-7.849639586, -8.128539744)):
            Hole(F_4_8_4_8_DIAMETER_HOLE2_D / 2, depth=F_4_8_4_8_DIAMETER_HOLE2_DEPTH)

    # Sketch35 → Boss-Extrude17 (add)
    with BuildSketch(Plane(origin=(65.9, 0, 0), x_dir=(0, 0, -1), z_dir=(1, 0, 0))):
        with Locations(Location((-7.849639586, -8.128539744, 0), (0, 0, 180))):
            Circle(SKETCH35_R)
    extrude(amount=BOSS_EXTRUDE17_DEPTH)

    # Sketch36 → Cut-Extrude6 (cut)
    with BuildSketch(Plane(origin=(67.7, 0, 0), x_dir=(0, 0, -1), z_dir=(1, 0, 0))):
        Polygon((-8.099639586, -7.878539744), (-9.399639586, -7.878539744), (-9.399639586, -8.378539744), (-8.099639586, -8.378539744), (-8.099639586, -9.678539744), (-7.599639586, -9.678539744), (-7.599639586, -8.378539744), (-6.299639586, -8.378539744), (-6.299639586, -7.878539744), (-7.599639586, -7.878539744), (-7.599639586, -6.578539744), (-8.099639586, -6.578539744), align=None)
    extrude(amount=-CUT_EXTRUDE6_DEPTH, mode=Mode.SUBTRACT)

    # Ø1.3 (1.3) Diameter Hole1
    with Locations(Plane(origin=(0, -1.565697386, 11.140515773), x_dir=(-1, 0, 0), z_dir=(0, 0.13917310096021265, -0.9902680687415496))):
        with Locations((-73.9, 0)):
            Hole(F_1_3_1_3_DIAMETER_HOLE1_D / 2, depth=F_1_3_1_3_DIAMETER_HOLE1_DEPTH)

    # Ø1.3 (1.3) Diameter Hole2
    with Locations(Plane(origin=(0, 1.565697386, -11.140515773), x_dir=(1, 0, 0), z_dir=(0, -0.13917310096021315, 0.9902680687415497))):
        with Locations((73.9, 0)):
            Hole(F_1_3_1_3_DIAMETER_HOLE2_D / 2, depth=F_1_3_1_3_DIAMETER_HOLE2_DEPTH)

    # Ø2.0 (2) Diameter Hole1
    with Locations(Plane(origin=(68, 0, 0), x_dir=(0, 0, -1), z_dir=(1, 0, 0))):
        with Locations((-2.349402106, -11.053067888)):
            Hole(F_2_0_2_DIAMETER_HOLE1_D / 2, depth=F_2_0_2_DIAMETER_HOLE1_DEPTH)

    # Ø1.6 (1.6) Diameter Hole1
    with Locations(Plane(origin=(68, 0, 0), x_dir=(0, 0, -1), z_dir=(1, 0, 0))):
        with Locations((1.530904111, -10.892948756), (-1.530904111, 10.892948756)):
            Hole(F_1_6_1_6_DIAMETER_HOLE1_D / 2, depth=F_1_6_1_6_DIAMETER_HOLE1_DEPTH)
            with Locations((0, 0, -(F_1_6_1_6_DIAMETER_HOLE1_DEPTH + F_1_6_1_6_DIAMETER_HOLE1_TIP / 2))):  # 120° drill point
                Cone(0, F_1_6_1_6_DIAMETER_HOLE1_D / 2, F_1_6_1_6_DIAMETER_HOLE1_TIP, mode=Mode.SUBTRACT)

    # Ø1.25 (1.25) Diameter Hole1
    with Locations(Plane(origin=(68, 0, 0), x_dir=(0, 0, -1), z_dir=(1, 0, 0))):
        with Locations((4.513612674, 5.989766325), (-4.513612674, -5.989766325)):
            Hole(F_1_25_1_25_DIAMETER_HOLE1_D / 2, depth=F_1_25_1_25_DIAMETER_HOLE1_DEPTH)
            with Locations((0, 0, -(F_1_25_1_25_DIAMETER_HOLE1_DEPTH + F_1_25_1_25_DIAMETER_HOLE1_TIP / 2))):  # 120° drill point
                Cone(0, F_1_25_1_25_DIAMETER_HOLE1_D / 2, F_1_25_1_25_DIAMETER_HOLE1_TIP, mode=Mode.SUBTRACT)

    # Ø1.5 (1.5) Diameter Hole1
    with Locations(Plane.ZY):
        with Locations((-6, 10.392304845)):
            Hole(F_1_5_1_5_DIAMETER_HOLE1_D / 2, depth=F_1_5_1_5_DIAMETER_HOLE1_DEPTH)
            with Locations((0, 0, -(F_1_5_1_5_DIAMETER_HOLE1_DEPTH + F_1_5_1_5_DIAMETER_HOLE1_TIP / 2))):  # 120° drill point
                Cone(0, F_1_5_1_5_DIAMETER_HOLE1_D / 2, F_1_5_1_5_DIAMETER_HOLE1_TIP, mode=Mode.SUBTRACT)

    # Ø2.5 (2.5) Diameter Hole5
    with Locations(Plane.ZY):
        with Locations((0, 11), (9.526279442, 5.5), (9.526279442, -5.5), (0, -11), (-9.526279442, -5.5), (-9.526279442, 5.5)):
            Hole(F_2_5_2_5_DIAMETER_HOLE5_D / 2, depth=F_2_5_2_5_DIAMETER_HOLE5_DEPTH)
            with Locations((0, 0, -(F_2_5_2_5_DIAMETER_HOLE5_DEPTH + F_2_5_2_5_DIAMETER_HOLE5_TIP / 2))):  # 120° drill point
                Cone(0, F_2_5_2_5_DIAMETER_HOLE5_D / 2, F_2_5_2_5_DIAMETER_HOLE5_TIP, mode=Mode.SUBTRACT)

    # Chamfer1
    chamfer1_edges = [part.edges().sort_by_distance(p)[0] for p in [
        (76.1, 2.986865957, -11.193240449),
        (76.1, 0.214115365, -11.582925132),
        (76.1, -2.986865957, 11.193240449),
        (76.1, -0.214115365, 11.582925132),
    ]]
    chamfer(chamfer1_edges, length=CHAMFER1_SIZE)

    # Chamfer2: one chamfer whose edges measure the first distance from different faces: ONE call of the kernel's chamfer builder (chamfer() names one face for all edges)
    chamfer2_edges_1 = [part.edges().sort_by_distance(p)[0] for p in [
        (67.7, -2.903062747, -12.643548715),
    ]]
    chamfer2_side_1 = [part.faces().sort_by_distance(p)[0] for p in [
        (67.7, -2.903062747, -11.643548715),
    ]]
    chamfer2_edges_2 = [part.edges().sort_by_distance(p)[0] for p in [
        (67.7, 10.875693444, -6.071419141),
    ]]
    chamfer2_side_2 = [part.faces().sort_by_distance(p)[0] for p in [
        (67.7, 10.875693444, -5.071419141),
    ]]
    chamfer2_edges_3 = [part.edges().sort_by_distance(p)[0] for p in [
        (67.7, 2.903062747, 10.643548715),
    ]]
    chamfer2_side_3 = [part.faces().sort_by_distance(p)[0] for p in [
        (67.7, 2.903062747, 11.643548715),
    ]]
    chamfer2 = BRepFilletAPI_MakeChamfer(part.part.solid().wrapped)
    for e in chamfer2_edges_1:
        chamfer2.Add(CHAMFER2_SIZE, CHAMFER2_SIZE2, e.wrapped, chamfer2_side_1[0].wrapped)  # the first distance lies on this face
    for e in chamfer2_edges_2:
        chamfer2.Add(CHAMFER2_SIZE, CHAMFER2_SIZE2, e.wrapped, chamfer2_side_2[0].wrapped)  # the first distance lies on this face
    for e in chamfer2_edges_3:
        chamfer2.Add(CHAMFER2_SIZE, CHAMFER2_SIZE2, e.wrapped, chamfer2_side_3[0].wrapped)  # the first distance lies on this face
    add(Compound.cast(chamfer2.Shape()), mode=Mode.REPLACE)

    # Chamfer3
    chamfer3_edges = [part.edges().sort_by_distance(p)[0] for p in [
        (67.7, -10.875693444, 4.071419141),
    ]]
    chamfer3_side = [part.faces().sort_by_distance(p)[0] for p in [
        (67.2, -10.875693444, 4.071419141),
    ]]
    chamfer(chamfer3_edges, length=CHAMFER3_SIZE, length2=CHAMFER3_SIZE2, reference=chamfer3_side[0])

    # Fillet1
    fillet1_edges = [part.edges().sort_by_distance(p)[0] for p in [
        (-20, 0, -2.5),
        (83.7, 0, 1.5),
        (67.7, 8.128539744, -10.099639586),
        (67.7, -8.128539744, 5.599639586),
    ]]
    fillet(fillet1_edges, radius=FILLET1_R)

    # Fillet2
    fillet2_edges = [part.edges().sort_by_distance(p)[0] for p in [
        (66.75, 1.674888731, 8.919907384),
        (66.75, -4.068666068, 8.112703398),
        (66.75, -1.674888731, -8.919907384),
        (66.75, 4.068666068, -8.112703398),
    ]]
    fillet(fillet2_edges, radius=FILLET2_R)


solid = part.part
